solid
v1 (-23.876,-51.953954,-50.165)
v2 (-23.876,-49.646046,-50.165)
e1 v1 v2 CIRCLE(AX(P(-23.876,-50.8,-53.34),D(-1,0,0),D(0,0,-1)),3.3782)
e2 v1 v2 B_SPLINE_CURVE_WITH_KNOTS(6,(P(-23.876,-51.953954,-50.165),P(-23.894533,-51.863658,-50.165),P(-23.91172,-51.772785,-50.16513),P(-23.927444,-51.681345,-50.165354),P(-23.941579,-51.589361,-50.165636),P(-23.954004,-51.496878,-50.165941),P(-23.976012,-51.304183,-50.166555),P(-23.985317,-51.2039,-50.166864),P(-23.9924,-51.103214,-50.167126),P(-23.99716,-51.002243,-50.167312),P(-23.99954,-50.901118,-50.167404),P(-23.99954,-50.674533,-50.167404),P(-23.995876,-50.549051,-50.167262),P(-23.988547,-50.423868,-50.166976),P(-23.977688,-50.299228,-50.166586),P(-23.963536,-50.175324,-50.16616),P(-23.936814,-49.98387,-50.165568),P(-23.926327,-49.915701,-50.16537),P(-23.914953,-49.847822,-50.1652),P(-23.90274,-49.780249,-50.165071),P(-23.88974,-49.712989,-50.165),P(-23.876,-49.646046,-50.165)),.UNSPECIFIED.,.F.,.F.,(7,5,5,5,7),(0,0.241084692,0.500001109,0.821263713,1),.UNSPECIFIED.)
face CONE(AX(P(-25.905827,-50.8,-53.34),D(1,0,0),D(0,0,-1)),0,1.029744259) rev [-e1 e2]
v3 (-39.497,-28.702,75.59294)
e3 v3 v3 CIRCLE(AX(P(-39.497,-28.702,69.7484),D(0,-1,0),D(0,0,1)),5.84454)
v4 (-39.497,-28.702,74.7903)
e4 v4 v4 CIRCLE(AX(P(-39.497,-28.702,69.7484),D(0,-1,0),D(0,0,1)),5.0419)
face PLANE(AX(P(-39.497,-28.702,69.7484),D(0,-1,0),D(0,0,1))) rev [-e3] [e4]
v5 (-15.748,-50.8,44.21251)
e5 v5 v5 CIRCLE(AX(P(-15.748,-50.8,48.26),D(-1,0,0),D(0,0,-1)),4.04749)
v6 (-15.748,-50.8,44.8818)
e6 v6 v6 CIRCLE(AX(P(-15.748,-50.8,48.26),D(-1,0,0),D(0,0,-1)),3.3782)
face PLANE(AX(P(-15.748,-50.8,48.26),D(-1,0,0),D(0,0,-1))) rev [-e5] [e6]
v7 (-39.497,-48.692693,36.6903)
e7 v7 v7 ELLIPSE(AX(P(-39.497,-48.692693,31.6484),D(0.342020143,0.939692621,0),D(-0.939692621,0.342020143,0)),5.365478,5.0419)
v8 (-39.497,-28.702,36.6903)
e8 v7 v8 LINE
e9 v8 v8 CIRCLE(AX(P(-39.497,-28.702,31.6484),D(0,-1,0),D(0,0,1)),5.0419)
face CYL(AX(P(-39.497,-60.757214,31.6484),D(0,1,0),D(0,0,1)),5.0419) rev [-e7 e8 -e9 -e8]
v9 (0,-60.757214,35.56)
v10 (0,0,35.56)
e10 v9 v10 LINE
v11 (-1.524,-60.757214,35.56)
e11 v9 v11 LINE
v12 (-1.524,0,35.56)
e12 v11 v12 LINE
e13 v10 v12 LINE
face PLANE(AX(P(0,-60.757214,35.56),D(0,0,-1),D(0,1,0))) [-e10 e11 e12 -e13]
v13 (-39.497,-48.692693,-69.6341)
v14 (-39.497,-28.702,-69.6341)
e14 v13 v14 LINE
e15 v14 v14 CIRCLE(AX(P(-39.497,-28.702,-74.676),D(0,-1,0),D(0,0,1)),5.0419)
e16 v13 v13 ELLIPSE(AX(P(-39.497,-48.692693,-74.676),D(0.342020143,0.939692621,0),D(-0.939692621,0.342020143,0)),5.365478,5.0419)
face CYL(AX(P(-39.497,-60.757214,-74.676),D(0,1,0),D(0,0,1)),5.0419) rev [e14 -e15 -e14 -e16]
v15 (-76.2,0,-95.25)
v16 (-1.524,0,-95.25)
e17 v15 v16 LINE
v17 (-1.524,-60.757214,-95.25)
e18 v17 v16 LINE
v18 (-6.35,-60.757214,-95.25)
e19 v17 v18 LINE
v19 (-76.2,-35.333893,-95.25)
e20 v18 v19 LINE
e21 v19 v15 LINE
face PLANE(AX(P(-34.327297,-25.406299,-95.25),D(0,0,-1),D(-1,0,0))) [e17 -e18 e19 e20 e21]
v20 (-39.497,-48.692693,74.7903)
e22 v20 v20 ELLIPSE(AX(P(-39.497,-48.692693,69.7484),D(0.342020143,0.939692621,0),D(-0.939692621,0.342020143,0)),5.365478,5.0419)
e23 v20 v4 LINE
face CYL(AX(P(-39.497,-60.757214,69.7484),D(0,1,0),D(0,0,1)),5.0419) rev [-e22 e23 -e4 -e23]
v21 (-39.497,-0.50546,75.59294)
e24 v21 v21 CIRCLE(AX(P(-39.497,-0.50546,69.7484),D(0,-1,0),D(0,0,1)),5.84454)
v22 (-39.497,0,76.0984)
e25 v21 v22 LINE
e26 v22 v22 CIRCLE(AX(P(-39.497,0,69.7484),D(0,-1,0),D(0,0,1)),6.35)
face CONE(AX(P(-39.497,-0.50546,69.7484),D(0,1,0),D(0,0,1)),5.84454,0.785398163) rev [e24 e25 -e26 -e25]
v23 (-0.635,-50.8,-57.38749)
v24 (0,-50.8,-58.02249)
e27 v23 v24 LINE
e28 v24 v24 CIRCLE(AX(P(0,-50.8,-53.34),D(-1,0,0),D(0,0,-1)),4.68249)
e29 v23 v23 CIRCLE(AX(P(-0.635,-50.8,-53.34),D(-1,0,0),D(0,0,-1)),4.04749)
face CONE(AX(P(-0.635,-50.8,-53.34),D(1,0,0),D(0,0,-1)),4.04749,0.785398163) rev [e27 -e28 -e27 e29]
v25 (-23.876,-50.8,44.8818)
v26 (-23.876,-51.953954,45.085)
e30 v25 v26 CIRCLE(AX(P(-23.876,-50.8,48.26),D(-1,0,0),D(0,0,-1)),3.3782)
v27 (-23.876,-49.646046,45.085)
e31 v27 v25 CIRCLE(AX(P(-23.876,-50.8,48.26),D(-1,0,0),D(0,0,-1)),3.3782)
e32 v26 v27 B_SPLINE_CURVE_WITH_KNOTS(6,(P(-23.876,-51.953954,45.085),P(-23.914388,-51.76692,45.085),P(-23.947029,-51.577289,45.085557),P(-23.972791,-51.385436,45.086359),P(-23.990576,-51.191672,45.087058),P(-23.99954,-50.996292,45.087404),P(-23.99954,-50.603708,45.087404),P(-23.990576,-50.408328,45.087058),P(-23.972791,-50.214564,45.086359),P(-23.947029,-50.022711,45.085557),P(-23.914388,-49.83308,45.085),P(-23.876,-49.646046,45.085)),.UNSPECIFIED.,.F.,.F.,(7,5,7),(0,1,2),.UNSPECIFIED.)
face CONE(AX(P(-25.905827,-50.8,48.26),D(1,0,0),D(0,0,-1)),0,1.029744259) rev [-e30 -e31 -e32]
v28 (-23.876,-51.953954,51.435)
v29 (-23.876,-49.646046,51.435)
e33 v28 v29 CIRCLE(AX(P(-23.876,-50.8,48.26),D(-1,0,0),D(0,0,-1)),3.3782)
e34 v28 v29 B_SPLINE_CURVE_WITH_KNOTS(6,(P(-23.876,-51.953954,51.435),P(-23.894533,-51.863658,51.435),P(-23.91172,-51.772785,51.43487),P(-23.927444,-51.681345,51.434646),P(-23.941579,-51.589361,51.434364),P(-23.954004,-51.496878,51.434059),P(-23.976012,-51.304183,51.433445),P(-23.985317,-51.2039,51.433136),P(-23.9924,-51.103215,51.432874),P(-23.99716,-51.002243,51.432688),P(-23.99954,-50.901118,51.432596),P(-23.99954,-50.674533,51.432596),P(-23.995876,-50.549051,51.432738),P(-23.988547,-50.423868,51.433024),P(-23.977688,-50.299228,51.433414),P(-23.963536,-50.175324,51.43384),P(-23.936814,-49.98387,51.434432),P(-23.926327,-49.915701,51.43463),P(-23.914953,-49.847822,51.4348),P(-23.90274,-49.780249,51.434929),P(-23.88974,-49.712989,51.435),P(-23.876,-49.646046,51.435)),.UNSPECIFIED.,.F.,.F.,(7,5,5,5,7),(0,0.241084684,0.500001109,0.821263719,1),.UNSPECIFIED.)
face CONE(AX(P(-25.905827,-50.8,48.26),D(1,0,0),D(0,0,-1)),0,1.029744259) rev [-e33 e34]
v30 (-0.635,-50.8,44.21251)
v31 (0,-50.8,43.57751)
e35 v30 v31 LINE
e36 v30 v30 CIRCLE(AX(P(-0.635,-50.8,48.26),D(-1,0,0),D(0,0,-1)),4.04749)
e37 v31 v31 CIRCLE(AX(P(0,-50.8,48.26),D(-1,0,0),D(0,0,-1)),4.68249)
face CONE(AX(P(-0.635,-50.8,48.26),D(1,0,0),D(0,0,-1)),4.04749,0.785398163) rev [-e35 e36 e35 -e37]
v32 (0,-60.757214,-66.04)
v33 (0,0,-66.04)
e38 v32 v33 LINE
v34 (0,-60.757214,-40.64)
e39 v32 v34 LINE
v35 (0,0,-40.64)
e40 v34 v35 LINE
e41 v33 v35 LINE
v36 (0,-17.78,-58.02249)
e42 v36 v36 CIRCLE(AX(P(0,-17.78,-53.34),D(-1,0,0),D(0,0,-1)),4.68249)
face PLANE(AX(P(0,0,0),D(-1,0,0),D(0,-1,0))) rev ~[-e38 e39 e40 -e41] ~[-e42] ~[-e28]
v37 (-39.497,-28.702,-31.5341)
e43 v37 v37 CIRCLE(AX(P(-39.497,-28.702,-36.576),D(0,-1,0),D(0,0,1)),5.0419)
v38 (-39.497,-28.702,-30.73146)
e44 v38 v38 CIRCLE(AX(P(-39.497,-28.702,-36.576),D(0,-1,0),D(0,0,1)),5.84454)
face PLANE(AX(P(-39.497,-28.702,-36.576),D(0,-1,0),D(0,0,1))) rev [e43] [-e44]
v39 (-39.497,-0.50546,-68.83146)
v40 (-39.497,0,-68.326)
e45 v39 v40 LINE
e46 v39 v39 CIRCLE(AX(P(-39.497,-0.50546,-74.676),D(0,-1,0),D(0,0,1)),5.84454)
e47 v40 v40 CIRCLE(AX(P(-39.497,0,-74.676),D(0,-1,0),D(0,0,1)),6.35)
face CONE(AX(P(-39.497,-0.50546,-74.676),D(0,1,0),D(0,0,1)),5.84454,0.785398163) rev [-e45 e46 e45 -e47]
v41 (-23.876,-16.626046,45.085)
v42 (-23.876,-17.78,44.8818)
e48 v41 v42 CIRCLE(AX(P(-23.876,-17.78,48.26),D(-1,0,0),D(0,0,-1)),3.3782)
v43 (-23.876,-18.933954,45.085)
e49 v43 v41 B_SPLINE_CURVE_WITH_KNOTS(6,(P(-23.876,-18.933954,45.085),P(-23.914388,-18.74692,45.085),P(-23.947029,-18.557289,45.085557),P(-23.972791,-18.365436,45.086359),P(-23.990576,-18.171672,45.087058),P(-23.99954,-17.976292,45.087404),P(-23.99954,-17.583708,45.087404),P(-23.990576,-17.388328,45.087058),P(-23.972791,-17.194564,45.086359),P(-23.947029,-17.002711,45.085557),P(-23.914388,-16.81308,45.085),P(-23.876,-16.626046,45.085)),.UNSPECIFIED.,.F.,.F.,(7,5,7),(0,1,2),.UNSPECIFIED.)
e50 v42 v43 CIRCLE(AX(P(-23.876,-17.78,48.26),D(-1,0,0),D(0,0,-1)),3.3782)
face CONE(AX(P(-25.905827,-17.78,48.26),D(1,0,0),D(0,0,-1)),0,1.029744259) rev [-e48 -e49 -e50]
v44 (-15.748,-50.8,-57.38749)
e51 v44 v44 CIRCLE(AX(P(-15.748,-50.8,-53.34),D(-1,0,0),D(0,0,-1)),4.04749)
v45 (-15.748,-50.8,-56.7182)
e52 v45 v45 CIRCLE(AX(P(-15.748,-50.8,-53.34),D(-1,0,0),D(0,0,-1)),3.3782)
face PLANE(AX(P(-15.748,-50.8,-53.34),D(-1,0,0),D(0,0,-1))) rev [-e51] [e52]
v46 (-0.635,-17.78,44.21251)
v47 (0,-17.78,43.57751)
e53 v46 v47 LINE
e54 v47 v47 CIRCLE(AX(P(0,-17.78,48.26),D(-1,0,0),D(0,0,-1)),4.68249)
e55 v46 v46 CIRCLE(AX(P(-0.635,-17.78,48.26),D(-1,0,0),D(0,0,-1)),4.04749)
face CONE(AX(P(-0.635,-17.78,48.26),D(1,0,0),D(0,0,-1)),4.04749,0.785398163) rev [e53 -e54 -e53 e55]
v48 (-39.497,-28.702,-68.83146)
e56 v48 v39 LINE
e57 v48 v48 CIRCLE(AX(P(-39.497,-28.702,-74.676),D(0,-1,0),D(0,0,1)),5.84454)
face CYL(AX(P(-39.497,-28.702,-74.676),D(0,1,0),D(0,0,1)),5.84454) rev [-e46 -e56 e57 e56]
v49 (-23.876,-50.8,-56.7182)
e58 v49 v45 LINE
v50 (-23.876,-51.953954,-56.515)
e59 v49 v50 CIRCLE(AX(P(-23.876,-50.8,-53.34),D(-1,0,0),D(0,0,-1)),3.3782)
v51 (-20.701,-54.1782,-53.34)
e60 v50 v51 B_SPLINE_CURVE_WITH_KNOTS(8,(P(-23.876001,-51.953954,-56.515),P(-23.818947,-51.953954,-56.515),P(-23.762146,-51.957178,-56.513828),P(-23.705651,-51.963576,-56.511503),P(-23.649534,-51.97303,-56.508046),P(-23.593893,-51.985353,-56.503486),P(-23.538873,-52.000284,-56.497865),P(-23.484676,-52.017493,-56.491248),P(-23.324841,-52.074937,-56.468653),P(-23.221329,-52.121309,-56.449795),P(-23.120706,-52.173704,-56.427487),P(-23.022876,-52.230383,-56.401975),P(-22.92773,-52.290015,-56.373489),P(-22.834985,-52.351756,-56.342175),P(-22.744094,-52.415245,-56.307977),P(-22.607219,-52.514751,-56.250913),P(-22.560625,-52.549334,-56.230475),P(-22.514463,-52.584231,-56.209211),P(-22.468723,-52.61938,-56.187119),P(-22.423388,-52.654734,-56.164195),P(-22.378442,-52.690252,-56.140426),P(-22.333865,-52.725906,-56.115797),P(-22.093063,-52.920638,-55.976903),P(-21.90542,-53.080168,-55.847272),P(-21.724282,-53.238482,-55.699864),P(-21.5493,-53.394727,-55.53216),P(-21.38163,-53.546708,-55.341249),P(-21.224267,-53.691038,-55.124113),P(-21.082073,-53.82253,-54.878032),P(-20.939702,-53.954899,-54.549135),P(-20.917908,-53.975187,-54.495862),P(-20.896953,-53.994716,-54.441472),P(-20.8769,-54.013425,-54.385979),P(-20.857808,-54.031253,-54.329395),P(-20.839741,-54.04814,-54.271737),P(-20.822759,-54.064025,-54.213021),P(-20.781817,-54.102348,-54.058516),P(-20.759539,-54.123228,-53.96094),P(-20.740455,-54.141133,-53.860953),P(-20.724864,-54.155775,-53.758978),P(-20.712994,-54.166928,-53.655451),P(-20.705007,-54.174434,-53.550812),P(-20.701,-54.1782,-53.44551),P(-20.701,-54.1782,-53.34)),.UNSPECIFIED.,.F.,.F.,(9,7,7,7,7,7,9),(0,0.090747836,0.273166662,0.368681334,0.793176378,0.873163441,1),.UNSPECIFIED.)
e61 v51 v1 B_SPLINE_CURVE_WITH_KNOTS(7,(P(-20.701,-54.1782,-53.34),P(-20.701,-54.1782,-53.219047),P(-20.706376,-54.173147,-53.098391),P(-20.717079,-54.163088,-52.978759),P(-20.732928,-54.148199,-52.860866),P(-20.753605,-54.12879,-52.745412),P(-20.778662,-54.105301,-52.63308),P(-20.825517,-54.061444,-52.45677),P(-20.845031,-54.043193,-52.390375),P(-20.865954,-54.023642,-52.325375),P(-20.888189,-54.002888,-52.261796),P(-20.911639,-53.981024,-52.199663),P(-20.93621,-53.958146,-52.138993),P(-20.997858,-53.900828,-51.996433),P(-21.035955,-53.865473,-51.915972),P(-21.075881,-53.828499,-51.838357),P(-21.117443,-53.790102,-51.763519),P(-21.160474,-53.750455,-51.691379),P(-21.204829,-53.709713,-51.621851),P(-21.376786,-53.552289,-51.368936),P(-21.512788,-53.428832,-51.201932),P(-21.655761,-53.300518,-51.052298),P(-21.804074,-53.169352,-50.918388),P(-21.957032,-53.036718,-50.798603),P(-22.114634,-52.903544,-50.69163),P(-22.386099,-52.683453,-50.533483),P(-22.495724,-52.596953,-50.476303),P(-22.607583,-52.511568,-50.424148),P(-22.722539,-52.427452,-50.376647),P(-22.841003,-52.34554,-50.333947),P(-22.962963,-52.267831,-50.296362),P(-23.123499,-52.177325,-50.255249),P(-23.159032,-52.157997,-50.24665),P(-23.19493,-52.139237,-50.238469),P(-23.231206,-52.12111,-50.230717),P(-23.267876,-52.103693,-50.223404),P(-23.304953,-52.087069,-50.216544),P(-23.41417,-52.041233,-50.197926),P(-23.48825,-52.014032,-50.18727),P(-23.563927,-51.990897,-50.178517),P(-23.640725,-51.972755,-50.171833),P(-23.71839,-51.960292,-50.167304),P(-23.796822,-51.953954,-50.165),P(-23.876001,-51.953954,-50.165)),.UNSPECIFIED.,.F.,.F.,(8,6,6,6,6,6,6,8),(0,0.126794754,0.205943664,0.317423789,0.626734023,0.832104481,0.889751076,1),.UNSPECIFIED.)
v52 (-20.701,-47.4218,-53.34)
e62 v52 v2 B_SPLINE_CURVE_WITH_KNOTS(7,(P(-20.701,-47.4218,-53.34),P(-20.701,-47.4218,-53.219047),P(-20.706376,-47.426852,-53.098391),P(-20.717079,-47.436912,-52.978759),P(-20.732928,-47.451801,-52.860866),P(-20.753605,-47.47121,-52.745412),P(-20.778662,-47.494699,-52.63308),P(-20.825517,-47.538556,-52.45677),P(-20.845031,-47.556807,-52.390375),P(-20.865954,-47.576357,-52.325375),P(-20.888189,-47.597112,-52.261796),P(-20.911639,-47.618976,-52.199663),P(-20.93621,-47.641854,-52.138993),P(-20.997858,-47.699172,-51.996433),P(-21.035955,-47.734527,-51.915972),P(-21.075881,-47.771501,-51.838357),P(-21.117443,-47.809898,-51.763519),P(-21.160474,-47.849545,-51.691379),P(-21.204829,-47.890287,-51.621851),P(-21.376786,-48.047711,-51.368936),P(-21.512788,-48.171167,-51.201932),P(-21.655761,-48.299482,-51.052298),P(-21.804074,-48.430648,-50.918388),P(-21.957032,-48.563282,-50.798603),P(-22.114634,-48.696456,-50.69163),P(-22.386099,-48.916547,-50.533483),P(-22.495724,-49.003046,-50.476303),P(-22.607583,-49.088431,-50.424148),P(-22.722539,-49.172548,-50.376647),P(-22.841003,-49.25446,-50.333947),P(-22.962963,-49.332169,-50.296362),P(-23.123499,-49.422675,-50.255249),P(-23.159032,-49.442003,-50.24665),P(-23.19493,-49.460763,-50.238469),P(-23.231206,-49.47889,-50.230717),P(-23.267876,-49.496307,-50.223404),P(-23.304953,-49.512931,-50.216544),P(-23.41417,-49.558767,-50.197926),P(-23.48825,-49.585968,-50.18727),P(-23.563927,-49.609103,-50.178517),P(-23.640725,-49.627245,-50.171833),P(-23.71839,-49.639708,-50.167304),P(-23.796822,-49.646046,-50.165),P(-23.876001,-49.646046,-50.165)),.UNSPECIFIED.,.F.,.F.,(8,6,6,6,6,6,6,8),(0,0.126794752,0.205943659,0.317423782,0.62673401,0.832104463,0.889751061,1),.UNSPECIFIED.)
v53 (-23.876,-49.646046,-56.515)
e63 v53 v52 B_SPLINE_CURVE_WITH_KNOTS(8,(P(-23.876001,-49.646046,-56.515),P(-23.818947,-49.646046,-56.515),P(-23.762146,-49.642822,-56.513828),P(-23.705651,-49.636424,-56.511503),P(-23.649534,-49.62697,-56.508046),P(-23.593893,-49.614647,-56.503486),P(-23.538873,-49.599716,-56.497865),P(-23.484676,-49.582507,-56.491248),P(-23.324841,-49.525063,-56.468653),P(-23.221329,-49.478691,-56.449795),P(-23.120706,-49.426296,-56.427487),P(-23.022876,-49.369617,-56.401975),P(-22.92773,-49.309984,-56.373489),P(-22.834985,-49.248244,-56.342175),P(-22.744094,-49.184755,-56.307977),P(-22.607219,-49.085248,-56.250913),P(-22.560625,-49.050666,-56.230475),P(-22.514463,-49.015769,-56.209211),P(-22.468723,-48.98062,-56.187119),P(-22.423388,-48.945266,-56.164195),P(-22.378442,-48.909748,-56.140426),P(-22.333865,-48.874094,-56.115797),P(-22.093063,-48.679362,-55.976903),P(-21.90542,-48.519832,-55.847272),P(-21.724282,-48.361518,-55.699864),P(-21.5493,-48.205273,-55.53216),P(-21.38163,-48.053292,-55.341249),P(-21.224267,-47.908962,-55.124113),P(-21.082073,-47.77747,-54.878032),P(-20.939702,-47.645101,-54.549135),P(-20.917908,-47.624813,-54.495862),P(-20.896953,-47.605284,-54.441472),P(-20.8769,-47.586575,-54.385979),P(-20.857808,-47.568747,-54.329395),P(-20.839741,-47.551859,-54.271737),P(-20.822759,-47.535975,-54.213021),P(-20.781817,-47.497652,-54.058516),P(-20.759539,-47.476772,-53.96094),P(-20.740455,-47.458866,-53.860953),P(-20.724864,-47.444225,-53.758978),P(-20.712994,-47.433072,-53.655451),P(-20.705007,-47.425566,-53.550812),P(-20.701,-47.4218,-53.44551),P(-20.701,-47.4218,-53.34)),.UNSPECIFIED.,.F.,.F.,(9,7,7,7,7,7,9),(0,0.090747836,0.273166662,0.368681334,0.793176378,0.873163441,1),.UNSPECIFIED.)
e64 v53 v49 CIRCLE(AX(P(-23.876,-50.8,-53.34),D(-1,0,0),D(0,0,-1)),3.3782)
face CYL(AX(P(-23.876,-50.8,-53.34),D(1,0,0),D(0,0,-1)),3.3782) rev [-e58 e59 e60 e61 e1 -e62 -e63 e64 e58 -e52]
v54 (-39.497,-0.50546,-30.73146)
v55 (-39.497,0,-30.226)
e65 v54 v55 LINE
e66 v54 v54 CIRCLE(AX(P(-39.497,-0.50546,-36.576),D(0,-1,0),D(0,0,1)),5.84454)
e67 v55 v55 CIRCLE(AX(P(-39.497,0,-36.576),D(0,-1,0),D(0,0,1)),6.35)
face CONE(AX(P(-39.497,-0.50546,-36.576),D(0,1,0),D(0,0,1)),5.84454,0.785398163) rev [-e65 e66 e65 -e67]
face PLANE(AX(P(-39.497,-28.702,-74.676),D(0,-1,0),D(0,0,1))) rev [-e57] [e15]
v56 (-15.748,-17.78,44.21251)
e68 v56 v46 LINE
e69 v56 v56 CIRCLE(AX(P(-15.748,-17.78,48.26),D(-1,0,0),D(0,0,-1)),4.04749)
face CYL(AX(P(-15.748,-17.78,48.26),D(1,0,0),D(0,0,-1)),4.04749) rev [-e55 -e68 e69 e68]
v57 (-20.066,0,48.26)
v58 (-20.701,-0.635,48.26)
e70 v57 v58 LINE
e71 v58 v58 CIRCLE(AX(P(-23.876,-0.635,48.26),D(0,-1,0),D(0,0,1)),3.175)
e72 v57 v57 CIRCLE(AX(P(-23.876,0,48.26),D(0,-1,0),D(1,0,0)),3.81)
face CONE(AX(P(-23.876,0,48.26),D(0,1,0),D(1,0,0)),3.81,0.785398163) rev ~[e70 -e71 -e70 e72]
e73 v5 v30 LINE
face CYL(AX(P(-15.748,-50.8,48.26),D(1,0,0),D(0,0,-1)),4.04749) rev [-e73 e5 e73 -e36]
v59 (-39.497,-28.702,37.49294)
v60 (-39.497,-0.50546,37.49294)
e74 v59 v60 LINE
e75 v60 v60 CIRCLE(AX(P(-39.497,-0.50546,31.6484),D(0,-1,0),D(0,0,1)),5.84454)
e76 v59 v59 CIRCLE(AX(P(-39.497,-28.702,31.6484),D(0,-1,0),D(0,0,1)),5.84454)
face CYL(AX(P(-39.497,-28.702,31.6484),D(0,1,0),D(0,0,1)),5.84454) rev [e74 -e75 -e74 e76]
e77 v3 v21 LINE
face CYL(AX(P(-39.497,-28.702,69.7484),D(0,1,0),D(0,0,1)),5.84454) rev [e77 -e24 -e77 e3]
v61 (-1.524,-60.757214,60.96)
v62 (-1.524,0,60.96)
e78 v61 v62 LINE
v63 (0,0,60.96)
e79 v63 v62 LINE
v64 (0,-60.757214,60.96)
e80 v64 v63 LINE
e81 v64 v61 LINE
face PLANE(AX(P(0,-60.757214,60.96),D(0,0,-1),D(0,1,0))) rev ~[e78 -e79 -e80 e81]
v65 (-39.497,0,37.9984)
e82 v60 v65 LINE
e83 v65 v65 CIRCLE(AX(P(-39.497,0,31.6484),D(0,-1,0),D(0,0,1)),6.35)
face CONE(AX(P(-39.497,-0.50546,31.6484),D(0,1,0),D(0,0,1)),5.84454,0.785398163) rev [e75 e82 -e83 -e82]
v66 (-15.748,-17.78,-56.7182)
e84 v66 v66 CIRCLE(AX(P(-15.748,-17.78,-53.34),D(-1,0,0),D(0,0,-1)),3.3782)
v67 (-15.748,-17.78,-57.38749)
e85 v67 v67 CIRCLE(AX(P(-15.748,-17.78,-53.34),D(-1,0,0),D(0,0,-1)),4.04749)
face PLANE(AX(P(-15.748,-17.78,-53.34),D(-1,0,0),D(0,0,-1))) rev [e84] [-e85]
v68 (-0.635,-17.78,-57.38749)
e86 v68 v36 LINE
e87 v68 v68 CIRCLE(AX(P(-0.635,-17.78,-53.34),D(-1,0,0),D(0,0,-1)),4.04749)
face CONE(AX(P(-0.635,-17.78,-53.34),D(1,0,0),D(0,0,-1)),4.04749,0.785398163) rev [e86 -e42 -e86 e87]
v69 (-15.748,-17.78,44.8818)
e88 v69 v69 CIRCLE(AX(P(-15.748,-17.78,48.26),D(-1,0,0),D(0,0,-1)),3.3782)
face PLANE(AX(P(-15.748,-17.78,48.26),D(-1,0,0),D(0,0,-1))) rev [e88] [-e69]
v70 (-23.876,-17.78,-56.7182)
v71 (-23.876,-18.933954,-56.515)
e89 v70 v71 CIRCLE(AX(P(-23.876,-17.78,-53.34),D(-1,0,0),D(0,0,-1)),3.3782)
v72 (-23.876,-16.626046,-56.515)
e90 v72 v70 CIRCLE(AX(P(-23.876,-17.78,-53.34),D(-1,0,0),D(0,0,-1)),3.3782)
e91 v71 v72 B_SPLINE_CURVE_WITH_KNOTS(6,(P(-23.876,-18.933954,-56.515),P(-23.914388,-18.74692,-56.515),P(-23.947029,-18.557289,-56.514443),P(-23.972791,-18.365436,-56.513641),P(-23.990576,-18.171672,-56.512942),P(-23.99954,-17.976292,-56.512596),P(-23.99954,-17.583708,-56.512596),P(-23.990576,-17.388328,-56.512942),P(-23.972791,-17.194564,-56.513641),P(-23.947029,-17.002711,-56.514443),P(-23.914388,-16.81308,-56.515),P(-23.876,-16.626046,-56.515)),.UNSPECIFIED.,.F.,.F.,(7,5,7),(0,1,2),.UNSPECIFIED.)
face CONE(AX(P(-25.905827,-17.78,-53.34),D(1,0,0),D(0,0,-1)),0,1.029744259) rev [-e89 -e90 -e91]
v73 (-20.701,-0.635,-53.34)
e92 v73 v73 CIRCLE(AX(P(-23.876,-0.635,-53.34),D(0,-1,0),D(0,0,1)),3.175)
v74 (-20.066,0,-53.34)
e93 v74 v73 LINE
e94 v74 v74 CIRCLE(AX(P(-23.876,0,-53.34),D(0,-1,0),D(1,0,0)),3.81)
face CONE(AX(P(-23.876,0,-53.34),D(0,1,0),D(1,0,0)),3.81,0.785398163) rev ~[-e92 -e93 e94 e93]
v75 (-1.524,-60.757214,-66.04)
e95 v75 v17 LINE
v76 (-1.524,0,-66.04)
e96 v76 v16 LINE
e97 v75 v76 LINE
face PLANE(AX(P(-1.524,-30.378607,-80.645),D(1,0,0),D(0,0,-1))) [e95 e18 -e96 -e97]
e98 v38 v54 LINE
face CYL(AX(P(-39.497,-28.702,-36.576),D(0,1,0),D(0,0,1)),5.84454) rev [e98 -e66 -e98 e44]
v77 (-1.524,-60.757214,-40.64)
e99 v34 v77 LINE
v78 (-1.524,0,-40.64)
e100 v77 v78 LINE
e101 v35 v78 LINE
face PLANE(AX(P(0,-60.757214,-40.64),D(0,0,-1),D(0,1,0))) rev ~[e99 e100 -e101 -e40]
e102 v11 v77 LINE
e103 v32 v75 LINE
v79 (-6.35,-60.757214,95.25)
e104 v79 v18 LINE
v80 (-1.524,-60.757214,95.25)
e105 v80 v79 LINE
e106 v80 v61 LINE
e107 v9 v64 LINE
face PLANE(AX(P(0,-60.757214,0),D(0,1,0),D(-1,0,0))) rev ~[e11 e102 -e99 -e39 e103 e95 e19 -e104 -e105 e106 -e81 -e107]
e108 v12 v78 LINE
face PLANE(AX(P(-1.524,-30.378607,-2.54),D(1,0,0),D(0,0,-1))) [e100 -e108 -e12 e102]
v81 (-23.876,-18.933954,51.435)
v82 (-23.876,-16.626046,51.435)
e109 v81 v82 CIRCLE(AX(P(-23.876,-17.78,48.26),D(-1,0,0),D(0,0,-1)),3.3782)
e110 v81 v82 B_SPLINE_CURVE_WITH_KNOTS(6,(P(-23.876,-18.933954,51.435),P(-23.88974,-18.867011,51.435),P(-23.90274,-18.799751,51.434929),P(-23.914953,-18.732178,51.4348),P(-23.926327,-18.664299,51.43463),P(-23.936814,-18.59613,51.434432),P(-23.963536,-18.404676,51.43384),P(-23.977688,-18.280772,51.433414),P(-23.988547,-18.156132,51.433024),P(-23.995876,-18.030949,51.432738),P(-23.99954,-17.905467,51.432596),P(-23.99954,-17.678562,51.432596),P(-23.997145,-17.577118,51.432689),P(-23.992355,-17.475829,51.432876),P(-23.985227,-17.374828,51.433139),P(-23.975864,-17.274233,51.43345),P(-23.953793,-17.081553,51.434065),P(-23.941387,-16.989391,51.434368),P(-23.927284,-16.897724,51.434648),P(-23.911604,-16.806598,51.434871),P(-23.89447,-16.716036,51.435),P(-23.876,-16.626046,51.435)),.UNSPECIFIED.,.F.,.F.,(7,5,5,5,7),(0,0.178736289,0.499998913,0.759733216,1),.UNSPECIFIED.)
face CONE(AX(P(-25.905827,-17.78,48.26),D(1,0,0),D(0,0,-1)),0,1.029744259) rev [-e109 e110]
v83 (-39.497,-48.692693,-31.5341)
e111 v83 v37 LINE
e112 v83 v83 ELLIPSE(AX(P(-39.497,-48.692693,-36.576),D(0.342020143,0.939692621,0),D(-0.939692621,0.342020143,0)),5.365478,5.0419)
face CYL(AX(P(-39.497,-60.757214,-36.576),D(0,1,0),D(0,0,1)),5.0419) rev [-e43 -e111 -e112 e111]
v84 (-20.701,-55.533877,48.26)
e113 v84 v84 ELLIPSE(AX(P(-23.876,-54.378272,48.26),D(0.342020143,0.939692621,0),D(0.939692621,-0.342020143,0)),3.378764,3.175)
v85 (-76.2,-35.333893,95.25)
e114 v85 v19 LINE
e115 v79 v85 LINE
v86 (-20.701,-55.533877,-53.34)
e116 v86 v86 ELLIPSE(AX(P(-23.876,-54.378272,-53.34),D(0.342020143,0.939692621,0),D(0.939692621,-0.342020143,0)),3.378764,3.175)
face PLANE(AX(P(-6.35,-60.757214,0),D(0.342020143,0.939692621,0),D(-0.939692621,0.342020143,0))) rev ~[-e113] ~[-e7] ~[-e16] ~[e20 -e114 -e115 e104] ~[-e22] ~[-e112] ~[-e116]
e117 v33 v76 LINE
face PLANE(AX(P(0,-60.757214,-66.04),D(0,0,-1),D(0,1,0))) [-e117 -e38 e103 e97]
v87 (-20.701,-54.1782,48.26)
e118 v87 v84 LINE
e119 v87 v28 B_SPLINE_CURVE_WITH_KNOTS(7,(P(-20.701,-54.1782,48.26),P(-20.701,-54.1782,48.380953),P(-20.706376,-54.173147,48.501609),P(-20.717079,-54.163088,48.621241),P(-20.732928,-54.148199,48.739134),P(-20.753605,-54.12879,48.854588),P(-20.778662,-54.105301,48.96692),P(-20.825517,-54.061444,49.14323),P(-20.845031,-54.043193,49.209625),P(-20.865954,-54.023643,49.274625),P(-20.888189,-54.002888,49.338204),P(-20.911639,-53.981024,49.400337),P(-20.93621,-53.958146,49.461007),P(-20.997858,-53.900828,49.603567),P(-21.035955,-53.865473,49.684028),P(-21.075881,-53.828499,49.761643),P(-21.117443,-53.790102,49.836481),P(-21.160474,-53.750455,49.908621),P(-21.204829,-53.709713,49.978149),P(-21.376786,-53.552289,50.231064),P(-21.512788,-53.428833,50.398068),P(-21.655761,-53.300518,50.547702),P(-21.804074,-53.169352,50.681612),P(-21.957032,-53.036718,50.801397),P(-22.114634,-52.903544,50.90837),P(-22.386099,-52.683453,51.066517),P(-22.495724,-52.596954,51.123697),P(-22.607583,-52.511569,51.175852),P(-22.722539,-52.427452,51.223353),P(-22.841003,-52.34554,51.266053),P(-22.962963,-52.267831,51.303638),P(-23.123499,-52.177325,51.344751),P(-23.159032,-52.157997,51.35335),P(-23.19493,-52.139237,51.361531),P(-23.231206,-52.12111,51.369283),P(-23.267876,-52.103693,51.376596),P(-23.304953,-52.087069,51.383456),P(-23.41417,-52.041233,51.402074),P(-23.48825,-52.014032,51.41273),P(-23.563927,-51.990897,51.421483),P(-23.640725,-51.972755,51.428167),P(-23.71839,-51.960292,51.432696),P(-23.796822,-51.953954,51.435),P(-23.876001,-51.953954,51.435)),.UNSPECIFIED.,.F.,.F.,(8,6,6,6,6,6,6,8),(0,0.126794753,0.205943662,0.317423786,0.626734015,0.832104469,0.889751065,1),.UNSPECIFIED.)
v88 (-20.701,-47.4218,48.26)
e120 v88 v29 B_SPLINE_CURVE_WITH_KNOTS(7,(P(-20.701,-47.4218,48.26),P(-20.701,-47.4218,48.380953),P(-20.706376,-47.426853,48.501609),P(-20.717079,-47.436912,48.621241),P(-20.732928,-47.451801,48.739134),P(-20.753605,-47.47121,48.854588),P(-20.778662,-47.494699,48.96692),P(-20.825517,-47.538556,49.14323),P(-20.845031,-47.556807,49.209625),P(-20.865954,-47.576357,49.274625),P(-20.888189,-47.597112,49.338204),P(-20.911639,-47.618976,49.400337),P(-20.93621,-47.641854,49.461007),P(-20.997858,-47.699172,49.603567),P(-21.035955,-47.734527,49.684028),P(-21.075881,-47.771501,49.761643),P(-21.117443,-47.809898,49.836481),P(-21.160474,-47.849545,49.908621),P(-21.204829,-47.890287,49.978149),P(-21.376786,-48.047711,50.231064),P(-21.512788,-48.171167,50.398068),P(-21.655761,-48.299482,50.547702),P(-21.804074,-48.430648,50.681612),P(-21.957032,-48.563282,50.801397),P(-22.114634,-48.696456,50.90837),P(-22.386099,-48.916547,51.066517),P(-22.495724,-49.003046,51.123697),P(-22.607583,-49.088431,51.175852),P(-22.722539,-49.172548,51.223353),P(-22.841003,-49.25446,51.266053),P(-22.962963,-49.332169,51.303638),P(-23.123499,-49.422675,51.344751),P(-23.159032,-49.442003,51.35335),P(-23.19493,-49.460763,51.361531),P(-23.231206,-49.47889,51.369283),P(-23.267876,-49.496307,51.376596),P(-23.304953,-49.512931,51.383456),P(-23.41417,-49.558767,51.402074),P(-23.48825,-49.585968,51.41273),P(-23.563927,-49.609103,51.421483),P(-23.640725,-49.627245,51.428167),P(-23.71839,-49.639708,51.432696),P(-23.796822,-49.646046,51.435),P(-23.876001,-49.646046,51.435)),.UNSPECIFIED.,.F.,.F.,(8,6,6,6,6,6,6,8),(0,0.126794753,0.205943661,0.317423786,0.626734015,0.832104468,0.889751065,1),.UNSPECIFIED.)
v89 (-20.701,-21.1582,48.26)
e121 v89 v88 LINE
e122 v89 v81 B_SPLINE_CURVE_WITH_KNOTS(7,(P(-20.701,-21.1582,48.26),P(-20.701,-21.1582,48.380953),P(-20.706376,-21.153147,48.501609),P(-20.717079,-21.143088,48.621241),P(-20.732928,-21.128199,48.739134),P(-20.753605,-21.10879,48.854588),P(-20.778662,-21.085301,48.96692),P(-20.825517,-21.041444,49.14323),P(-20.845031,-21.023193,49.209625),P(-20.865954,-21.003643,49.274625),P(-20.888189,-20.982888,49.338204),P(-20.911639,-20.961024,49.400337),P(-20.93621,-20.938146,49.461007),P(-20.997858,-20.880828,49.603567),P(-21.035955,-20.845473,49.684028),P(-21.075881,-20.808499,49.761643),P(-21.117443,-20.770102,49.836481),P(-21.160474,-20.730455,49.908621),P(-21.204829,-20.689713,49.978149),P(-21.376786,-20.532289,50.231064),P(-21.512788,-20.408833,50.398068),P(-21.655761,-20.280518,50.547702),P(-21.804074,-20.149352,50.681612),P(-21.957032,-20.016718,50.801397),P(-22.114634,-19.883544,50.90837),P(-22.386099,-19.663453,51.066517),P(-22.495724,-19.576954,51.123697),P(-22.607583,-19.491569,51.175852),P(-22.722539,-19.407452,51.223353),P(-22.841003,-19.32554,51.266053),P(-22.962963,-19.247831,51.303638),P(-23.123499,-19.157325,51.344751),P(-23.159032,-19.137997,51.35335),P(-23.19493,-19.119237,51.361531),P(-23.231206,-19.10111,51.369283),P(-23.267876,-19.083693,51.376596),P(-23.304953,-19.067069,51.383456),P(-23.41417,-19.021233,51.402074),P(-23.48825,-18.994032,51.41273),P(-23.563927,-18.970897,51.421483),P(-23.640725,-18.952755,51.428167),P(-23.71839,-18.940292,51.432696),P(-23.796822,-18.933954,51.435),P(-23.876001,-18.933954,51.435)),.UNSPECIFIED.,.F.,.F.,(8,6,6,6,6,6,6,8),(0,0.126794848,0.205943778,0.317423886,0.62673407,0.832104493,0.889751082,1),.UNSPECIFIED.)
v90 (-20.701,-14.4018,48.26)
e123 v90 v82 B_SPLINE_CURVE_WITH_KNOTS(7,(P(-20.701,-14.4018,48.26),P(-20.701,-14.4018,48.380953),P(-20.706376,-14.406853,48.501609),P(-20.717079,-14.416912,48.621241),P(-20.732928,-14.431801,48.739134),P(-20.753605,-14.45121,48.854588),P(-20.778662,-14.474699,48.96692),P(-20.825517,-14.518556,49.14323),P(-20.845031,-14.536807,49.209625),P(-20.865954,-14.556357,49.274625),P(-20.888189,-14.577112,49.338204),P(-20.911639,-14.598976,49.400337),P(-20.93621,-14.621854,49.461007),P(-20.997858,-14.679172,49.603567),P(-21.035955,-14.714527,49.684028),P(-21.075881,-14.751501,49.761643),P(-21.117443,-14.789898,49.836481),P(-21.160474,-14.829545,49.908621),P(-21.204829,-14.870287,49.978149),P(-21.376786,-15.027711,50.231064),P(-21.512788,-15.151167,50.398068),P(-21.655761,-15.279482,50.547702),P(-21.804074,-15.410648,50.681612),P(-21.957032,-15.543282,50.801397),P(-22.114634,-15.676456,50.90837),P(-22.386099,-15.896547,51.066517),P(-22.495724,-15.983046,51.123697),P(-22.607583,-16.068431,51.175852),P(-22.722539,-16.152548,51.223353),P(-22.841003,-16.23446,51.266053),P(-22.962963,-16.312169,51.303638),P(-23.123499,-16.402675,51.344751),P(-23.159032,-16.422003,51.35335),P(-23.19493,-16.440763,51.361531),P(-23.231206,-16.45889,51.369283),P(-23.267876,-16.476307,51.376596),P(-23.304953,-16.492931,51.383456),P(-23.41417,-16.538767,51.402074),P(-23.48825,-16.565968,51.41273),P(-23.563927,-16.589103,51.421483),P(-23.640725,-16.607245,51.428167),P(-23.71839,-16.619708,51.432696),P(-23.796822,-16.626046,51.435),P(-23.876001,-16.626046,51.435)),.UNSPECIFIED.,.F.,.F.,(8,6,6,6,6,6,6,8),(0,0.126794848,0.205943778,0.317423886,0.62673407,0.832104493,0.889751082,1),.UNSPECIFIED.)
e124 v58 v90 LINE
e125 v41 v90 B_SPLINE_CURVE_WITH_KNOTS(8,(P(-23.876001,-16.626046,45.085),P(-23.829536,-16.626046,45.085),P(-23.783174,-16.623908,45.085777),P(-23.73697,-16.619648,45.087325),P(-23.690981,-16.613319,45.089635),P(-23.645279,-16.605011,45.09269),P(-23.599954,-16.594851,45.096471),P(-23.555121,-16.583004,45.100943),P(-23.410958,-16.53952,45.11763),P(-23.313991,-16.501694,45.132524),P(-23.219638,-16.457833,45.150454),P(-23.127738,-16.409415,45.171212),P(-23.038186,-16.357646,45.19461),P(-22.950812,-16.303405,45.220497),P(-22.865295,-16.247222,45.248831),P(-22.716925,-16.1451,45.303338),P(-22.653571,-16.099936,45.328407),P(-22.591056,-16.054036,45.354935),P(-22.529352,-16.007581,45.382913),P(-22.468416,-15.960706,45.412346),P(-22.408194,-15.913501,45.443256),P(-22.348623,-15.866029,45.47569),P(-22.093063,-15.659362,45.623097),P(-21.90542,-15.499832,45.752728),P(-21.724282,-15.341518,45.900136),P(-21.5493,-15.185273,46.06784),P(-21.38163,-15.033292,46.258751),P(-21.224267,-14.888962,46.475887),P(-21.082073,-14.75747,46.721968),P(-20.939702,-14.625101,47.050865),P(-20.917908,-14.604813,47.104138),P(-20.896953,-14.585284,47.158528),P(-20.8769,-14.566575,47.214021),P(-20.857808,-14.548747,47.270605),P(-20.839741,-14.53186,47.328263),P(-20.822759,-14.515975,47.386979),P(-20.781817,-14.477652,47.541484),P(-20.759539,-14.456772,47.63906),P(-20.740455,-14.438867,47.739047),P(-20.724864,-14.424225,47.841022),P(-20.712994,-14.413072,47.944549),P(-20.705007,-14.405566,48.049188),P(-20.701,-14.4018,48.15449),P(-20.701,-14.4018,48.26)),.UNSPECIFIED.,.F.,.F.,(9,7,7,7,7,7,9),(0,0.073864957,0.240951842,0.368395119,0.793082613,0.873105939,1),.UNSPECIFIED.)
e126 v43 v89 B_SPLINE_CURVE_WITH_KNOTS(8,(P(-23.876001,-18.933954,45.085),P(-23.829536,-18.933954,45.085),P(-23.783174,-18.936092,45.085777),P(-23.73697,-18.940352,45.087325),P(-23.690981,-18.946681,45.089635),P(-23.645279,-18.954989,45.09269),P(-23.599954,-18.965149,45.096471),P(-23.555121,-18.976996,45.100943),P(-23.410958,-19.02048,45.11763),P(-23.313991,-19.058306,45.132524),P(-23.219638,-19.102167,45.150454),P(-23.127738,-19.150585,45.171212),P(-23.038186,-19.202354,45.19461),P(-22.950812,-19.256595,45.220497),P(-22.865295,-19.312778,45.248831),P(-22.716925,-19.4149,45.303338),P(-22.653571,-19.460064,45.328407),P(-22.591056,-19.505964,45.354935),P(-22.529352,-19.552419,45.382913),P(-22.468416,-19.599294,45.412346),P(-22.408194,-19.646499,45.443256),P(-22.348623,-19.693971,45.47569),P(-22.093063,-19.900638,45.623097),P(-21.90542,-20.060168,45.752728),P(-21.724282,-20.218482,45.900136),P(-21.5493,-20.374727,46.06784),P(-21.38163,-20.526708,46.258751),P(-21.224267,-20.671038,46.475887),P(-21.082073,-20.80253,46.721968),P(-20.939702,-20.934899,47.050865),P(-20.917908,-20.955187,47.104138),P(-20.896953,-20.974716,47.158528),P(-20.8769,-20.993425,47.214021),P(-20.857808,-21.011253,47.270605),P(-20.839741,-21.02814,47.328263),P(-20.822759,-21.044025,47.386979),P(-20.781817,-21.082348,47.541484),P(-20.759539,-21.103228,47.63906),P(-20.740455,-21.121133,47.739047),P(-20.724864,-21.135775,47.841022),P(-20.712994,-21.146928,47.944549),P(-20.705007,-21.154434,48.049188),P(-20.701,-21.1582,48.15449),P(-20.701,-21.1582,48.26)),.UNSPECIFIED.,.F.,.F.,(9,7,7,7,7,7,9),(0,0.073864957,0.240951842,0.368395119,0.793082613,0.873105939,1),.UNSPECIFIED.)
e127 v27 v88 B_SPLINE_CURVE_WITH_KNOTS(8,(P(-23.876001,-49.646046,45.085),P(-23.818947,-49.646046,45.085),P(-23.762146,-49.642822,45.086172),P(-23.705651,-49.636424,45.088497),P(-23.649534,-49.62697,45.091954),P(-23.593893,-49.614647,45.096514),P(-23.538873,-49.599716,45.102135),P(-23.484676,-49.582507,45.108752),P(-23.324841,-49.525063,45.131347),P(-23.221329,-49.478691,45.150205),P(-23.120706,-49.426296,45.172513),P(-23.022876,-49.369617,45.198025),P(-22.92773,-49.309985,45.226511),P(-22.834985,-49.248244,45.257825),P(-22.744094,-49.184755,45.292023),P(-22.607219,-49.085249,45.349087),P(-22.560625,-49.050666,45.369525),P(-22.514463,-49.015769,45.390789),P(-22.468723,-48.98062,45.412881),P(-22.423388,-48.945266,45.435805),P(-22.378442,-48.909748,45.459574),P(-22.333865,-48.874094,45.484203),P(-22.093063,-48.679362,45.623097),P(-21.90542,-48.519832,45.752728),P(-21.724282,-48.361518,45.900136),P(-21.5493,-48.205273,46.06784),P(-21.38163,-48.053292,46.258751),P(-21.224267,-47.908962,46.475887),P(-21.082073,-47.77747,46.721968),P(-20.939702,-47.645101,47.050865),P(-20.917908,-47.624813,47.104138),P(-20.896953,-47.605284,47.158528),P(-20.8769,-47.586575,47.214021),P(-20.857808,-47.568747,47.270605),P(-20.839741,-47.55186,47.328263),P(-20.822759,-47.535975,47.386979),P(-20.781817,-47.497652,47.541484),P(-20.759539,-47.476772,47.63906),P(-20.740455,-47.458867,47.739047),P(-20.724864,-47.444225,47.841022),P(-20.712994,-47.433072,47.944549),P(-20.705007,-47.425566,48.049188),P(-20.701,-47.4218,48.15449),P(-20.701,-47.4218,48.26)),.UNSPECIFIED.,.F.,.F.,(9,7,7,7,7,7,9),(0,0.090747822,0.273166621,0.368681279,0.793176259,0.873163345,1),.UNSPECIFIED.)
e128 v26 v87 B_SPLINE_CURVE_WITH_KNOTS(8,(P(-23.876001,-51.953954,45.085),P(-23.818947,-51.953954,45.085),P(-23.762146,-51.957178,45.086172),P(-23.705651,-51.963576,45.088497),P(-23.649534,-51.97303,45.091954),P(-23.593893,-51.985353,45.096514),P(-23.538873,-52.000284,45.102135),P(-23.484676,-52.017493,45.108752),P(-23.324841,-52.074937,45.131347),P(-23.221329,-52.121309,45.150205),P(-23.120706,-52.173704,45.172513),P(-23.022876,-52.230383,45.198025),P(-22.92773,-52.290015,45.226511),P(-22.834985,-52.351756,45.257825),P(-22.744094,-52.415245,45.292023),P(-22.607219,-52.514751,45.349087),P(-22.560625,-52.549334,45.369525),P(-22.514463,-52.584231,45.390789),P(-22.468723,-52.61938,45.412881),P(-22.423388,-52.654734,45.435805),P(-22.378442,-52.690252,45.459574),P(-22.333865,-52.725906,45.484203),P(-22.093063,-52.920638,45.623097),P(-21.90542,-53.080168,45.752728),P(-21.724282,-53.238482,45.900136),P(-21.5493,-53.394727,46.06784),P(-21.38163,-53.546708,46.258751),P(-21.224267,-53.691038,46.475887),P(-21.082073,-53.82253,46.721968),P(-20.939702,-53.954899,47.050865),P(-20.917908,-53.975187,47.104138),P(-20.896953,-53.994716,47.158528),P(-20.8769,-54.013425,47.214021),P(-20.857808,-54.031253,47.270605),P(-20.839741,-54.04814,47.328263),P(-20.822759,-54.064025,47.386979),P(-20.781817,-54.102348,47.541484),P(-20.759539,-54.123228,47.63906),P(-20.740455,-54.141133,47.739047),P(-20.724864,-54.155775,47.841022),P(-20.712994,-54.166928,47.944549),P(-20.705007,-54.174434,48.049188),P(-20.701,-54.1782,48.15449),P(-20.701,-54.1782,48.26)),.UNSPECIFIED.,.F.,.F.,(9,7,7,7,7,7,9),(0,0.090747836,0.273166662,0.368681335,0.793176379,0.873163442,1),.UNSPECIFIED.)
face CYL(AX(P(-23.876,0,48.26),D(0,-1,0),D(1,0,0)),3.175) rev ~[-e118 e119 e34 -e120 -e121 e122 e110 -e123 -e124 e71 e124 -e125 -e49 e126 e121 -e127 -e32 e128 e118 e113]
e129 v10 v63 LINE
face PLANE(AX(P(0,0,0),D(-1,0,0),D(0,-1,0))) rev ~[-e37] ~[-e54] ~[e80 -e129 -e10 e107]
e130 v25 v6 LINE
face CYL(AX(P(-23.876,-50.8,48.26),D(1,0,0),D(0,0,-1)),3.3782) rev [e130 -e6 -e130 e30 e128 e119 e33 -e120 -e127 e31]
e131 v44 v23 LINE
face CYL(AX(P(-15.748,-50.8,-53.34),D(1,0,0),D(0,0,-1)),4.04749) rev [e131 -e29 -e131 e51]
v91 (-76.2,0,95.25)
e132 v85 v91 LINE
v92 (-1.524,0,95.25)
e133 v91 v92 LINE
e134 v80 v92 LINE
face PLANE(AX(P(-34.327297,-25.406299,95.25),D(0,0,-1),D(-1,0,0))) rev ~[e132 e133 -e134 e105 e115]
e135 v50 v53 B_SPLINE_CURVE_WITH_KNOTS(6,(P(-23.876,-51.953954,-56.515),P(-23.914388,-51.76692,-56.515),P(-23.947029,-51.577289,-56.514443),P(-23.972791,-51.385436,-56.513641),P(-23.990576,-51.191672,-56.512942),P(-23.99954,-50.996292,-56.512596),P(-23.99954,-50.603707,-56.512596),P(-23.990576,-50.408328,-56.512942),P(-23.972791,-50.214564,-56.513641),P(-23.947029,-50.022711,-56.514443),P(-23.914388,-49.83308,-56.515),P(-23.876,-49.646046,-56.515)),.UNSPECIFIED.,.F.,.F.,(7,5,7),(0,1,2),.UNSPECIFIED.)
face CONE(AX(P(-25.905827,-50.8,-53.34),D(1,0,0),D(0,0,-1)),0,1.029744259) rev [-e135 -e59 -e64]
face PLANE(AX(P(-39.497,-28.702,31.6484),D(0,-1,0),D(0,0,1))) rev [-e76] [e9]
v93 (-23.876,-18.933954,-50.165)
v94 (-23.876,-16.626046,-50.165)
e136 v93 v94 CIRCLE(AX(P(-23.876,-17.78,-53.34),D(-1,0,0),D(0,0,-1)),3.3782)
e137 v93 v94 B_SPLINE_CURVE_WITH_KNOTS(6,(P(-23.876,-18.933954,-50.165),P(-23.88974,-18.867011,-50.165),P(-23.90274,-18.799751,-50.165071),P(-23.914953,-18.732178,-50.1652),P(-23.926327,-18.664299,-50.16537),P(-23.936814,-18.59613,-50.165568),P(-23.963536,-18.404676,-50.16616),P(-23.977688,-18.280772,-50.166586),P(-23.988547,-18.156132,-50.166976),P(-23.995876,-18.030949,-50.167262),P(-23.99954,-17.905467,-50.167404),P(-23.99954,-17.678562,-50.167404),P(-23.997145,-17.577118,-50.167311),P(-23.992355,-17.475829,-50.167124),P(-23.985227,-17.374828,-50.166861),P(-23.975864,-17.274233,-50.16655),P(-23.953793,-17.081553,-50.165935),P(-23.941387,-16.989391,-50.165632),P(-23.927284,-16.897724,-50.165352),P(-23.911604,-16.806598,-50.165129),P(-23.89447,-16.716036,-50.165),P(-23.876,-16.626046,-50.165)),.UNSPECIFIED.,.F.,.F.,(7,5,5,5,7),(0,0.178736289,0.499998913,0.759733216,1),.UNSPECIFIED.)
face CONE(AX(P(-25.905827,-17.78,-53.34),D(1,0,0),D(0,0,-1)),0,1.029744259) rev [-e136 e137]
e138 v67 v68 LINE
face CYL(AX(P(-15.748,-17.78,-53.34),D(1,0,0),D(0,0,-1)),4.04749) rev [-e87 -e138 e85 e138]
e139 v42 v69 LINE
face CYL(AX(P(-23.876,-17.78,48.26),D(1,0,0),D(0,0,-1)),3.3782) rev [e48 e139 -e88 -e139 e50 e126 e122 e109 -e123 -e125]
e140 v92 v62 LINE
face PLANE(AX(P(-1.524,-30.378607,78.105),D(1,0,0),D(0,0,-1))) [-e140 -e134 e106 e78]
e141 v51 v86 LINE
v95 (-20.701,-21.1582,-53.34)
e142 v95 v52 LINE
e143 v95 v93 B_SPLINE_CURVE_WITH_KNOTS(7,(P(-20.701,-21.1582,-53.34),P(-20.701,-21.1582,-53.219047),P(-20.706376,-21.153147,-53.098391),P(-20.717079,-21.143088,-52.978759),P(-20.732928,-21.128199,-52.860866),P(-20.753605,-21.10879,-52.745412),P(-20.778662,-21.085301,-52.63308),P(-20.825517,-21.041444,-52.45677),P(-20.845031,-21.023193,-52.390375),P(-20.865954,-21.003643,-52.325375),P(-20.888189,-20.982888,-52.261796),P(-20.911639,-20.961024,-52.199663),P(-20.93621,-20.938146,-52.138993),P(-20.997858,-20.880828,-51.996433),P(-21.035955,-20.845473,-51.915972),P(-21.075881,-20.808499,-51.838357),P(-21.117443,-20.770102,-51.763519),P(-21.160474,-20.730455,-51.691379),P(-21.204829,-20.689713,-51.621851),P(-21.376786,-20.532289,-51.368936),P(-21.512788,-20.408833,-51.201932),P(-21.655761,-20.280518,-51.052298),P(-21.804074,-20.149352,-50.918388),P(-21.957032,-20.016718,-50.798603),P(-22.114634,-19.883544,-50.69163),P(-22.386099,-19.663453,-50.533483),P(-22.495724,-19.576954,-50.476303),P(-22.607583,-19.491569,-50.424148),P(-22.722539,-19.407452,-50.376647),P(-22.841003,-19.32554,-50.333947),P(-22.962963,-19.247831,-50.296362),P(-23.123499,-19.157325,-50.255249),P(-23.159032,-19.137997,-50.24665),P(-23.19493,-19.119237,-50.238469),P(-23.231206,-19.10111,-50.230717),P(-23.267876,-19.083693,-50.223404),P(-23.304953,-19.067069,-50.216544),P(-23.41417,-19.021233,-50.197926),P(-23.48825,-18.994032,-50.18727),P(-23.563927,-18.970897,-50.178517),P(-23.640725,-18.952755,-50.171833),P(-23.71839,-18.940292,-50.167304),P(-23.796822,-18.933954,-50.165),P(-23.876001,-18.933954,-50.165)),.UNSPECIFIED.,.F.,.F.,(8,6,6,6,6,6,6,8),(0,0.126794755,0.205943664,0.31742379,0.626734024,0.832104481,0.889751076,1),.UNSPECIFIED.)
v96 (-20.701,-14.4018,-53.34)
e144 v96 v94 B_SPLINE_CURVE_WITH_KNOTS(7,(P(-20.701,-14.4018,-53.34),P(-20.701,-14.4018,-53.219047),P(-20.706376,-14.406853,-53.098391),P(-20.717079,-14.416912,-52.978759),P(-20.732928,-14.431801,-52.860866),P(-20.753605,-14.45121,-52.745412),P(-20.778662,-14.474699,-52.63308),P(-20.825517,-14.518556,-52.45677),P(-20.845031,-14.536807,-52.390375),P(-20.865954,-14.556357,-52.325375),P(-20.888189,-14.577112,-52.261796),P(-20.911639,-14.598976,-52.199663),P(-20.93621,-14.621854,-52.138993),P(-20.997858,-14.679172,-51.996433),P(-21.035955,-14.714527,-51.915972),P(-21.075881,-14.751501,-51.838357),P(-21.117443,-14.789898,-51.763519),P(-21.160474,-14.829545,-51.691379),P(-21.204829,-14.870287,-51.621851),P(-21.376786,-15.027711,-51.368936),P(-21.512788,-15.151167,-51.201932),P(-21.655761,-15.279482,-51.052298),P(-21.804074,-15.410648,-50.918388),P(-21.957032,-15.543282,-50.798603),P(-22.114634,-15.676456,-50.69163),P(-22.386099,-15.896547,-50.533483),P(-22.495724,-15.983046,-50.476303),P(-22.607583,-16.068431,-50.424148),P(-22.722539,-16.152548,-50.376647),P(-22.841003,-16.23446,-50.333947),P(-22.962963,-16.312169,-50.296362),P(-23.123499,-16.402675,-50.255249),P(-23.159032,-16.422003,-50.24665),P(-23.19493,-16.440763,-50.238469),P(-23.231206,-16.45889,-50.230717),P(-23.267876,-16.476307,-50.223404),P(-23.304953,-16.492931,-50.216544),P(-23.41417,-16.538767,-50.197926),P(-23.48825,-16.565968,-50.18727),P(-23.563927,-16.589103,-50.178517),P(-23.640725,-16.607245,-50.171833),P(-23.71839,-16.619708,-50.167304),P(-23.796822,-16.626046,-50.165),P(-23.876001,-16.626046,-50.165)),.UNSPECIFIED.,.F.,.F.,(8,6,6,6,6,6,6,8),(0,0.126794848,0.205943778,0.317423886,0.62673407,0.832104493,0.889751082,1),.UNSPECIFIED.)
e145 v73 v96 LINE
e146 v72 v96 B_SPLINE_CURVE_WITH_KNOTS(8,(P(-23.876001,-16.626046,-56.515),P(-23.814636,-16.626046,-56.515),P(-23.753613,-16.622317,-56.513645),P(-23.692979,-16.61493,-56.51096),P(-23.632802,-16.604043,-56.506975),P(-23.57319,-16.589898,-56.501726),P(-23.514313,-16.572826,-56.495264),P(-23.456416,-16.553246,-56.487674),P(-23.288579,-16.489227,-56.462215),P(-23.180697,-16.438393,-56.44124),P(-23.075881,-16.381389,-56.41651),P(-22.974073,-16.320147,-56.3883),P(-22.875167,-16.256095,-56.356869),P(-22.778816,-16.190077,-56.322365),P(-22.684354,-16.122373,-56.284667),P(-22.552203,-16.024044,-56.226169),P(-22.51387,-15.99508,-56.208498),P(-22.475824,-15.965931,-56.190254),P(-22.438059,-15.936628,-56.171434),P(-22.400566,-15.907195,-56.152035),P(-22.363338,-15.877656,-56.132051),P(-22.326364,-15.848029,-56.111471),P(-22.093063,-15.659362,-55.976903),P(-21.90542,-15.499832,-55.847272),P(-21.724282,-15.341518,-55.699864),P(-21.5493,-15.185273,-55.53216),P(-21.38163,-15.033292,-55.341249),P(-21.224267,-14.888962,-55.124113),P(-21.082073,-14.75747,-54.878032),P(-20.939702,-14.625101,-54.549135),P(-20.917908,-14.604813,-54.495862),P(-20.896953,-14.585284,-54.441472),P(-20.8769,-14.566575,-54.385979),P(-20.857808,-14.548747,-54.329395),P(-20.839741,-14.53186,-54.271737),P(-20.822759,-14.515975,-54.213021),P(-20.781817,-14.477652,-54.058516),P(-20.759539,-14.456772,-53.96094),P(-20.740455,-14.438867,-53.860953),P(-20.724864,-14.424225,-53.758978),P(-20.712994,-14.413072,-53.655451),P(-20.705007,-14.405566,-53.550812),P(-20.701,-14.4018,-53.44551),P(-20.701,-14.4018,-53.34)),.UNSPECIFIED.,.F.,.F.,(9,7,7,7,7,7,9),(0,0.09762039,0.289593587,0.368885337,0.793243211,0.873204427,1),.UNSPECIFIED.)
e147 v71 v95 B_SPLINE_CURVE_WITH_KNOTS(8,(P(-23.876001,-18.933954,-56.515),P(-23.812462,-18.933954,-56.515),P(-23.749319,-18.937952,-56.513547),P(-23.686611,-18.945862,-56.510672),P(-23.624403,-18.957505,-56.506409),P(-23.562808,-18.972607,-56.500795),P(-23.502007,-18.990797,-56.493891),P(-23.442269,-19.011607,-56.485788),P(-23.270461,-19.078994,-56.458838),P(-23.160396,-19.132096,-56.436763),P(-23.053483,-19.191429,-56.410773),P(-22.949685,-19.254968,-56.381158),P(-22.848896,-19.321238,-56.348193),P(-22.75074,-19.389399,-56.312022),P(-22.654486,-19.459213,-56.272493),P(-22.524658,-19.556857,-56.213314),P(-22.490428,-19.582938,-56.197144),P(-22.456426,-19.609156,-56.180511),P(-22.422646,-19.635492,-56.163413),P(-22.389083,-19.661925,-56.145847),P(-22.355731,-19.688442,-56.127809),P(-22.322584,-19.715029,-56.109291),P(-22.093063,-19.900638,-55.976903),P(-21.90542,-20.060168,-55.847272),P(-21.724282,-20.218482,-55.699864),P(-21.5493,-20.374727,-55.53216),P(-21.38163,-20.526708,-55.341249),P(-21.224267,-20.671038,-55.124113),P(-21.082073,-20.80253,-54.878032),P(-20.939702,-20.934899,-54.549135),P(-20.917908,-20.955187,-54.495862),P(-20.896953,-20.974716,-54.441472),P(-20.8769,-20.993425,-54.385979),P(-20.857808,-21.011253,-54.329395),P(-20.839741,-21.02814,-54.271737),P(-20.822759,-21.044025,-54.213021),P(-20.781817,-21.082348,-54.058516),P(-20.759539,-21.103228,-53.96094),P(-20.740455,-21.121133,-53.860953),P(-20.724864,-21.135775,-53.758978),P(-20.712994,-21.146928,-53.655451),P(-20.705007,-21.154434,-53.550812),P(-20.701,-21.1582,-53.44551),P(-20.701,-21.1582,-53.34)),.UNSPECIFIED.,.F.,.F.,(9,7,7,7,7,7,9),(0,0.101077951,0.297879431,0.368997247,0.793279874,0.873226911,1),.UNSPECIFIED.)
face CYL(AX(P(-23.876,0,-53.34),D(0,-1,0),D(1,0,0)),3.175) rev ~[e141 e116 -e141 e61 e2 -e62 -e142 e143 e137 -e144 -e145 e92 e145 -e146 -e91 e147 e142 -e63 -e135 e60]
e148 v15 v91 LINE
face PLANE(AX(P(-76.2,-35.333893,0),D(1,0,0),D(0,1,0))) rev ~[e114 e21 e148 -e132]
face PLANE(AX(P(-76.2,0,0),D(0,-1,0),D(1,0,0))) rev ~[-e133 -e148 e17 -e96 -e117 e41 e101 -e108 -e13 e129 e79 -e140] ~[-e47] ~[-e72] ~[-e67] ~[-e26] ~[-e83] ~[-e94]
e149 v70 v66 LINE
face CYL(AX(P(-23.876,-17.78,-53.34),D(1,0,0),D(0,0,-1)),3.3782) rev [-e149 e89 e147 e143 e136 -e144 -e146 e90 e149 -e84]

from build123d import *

# Parameters (mm, degrees)
EXTRUDE1_DEPTH                              = 95.25
TAPPED_HOLE_FOR_3_8_16_HELICOIL1_AT_2_COUNT = 2
TAPPED_HOLE_FOR_3_8_16_HELICOIL1_AT_2_PITCH = 38.1
TAPPED_HOLE_FOR_3_8_16_HELICOIL1_AT_3_COUNT = 2
TAPPED_HOLE_FOR_3_8_16_HELICOIL1_AT_3_PITCH = 106.3244
TAPPED_HOLE_FOR_3_8_16_HELICOIL1_AT_4_COUNT = 2
TAPPED_HOLE_FOR_3_8_16_HELICOIL1_AT_4_PITCH = 144.4244
TAPPED_HOLE_FOR_1_4_20_HELICOIL1_AT_2_COUNT = 2
TAPPED_HOLE_FOR_1_4_20_HELICOIL1_AT_2_PITCH = 33.02
TAPPED_HOLE_FOR_1_4_20_HELICOIL1_AT_3_COUNT = 2
TAPPED_HOLE_FOR_1_4_20_HELICOIL1_AT_3_PITCH = 106.831083492
TAPPED_HOLE_FOR_1_4_20_HELICOIL1_AT_4_COUNT = 2
TAPPED_HOLE_FOR_1_4_20_HELICOIL1_AT_4_PITCH = 101.6
F_1_4_0_25_DIAMETER_HOLE1_D                 = 6.35
F_1_4_0_25_DIAMETER_HOLE1_CSINK_D           = 7.62
F_1_4_0_25_DIAMETER_HOLE1_CSINK_ANGLE       = 90
SKETCH20_W                                  = 76.2
SKETCH20_H                                  = 60.757213881
SKETCH20_W_2                                = 29.21
SKETCH20_W_3                                = 34.29
EXTRUDE2_DEPTH                              = 1.524


with BuildPart() as part:
    # Sketch13 → Extrude1 (new body, symmetric)
    with BuildSketch(Plane.XY):
        Polygon((0, -60.757213881), (-6.35, -60.757213881), (-76.2, -35.333893017), (-76.2, 0), (0, 0), align=None)
    extrude(amount=EXTRUDE1_DEPTH, both=True)

    # Sketch14 → Tapped Hole for 3/8-16 Helicoil1 (revolve, cut)
    with BuildSketch(Plane(origin=(-39.497, 0, 69.7484), x_dir=(0, 0, 1), z_dir=(1, 0, 0))):
        Polygon((0, 0), (0, 60.757213881), (5.0419, 60.757213881), (5.0419, 28.702), (5.84454, 28.702), (5.84454, 0.50546), (6.35, 0), align=None)
    tapped_hole_for_3_8_16_helicoil1 = revolve(axis=Axis((-39.497, 6.35, 69.7484), (0, -1, 0)), mode=Mode.SUBTRACT)

    # Tapped Hole for 3/8-16 Helicoil1 at 2: Tapped Hole for 3/8-16 Helicoil1 ×2
    with Locations(*[(0, 0, -i * TAPPED_HOLE_FOR_3_8_16_HELICOIL1_AT_2_PITCH) for i in range(1, TAPPED_HOLE_FOR_3_8_16_HELICOIL1_AT_2_COUNT)]):
        add(tapped_hole_for_3_8_16_helicoil1, mode=Mode.SUBTRACT)

    # Tapped Hole for 3/8-16 Helicoil1 at 3: Tapped Hole for 3/8-16 Helicoil1 ×2
    with Locations(*[(0, 0, -i * TAPPED_HOLE_FOR_3_8_16_HELICOIL1_AT_3_PITCH) for i in range(1, TAPPED_HOLE_FOR_3_8_16_HELICOIL1_AT_3_COUNT)]):
        add(tapped_hole_for_3_8_16_helicoil1, mode=Mode.SUBTRACT)

    # Tapped Hole for 3/8-16 Helicoil1 at 4: Tapped Hole for 3/8-16 Helicoil1 ×2
    with Locations(*[(0, 0, -i * TAPPED_HOLE_FOR_3_8_16_HELICOIL1_AT_4_PITCH) for i in range(1, TAPPED_HOLE_FOR_3_8_16_HELICOIL1_AT_4_COUNT)]):
        add(tapped_hole_for_3_8_16_helicoil1, mode=Mode.SUBTRACT)

    # Sketch16 → Tapped Hole for 1/4-20 Helicoil1 (revolve, cut)
    with BuildSketch(Plane(origin=(0, -17.78, 48.26), x_dir=(0, 0, -1), z_dir=(0, 1, 0))):
        Polygon((0, 0), (0, 25.905827343), (3.3782, 23.876), (3.3782, 15.748), (4.04749, 15.748), (4.04749, 0.635), (4.68249, 0), align=None)
    tapped_hole_for_1_4_20_helicoil1 = revolve(axis=Axis((6.35, -17.78, 48.26), (-1, 0, 0)), mode=Mode.SUBTRACT)

    # Tapped Hole for 1/4-20 Helicoil1 at 2: Tapped Hole for 1/4-20 Helicoil1 ×2
    with Locations(*[(0, -i * TAPPED_HOLE_FOR_1_4_20_HELICOIL1_AT_2_PITCH, 0) for i in range(1, TAPPED_HOLE_FOR_1_4_20_HELICOIL1_AT_2_COUNT)]):
        add(tapped_hole_for_1_4_20_helicoil1, mode=Mode.SUBTRACT)

    # Tapped Hole for 1/4-20 Helicoil1 at 3: Tapped Hole for 1/4-20 Helicoil1 ×2
    with Locations(*[Vector(0, -0.309086072, -0.951034069) * (i * TAPPED_HOLE_FOR_1_4_20_HELICOIL1_AT_3_PITCH) for i in range(1, TAPPED_HOLE_FOR_1_4_20_HELICOIL1_AT_3_COUNT)]):
        add(tapped_hole_for_1_4_20_helicoil1, mode=Mode.SUBTRACT)

    # Tapped Hole for 1/4-20 Helicoil1 at 4: Tapped Hole for 1/4-20 Helicoil1 ×2
    with Locations(*[(0, 0, -i * TAPPED_HOLE_FOR_1_4_20_HELICOIL1_AT_4_PITCH) for i in range(1, TAPPED_HOLE_FOR_1_4_20_HELICOIL1_AT_4_COUNT)]):
        add(tapped_hole_for_1_4_20_helicoil1, mode=Mode.SUBTRACT)

    # 1/4 (0.25) Diameter Hole1 (through all)
    with Locations(Plane(origin=(0, 0, 0), x_dir=(-1, 0, 0), z_dir=(0, 1, 0))):
        with Locations((23.876, -53.34), (23.876, 48.26)):
            CounterSinkHole(F_1_4_0_25_DIAMETER_HOLE1_D / 2, F_1_4_0_25_DIAMETER_HOLE1_CSINK_D / 2, counter_sink_angle=F_1_4_0_25_DIAMETER_HOLE1_CSINK_ANGLE)

    # Sketch20 → Extrude2 (cut)
    with BuildSketch(Plane(origin=(0, 0, 0), x_dir=(0, 0, -1), z_dir=(1, 0, 0))):
        with Locations((2.54, -30.378606941)):
            Rectangle(SKETCH20_W, SKETCH20_H)
        with Locations((80.645, -30.378606941)):
            Rectangle(SKETCH20_W_2, SKETCH20_H)
        with Locations((-78.105, -30.378606941)):
            Rectangle(SKETCH20_W_3, SKETCH20_H)
    extrude(amount=-EXTRUDE2_DEPTH, mode=Mode.SUBTRACT)


solid = part.part
